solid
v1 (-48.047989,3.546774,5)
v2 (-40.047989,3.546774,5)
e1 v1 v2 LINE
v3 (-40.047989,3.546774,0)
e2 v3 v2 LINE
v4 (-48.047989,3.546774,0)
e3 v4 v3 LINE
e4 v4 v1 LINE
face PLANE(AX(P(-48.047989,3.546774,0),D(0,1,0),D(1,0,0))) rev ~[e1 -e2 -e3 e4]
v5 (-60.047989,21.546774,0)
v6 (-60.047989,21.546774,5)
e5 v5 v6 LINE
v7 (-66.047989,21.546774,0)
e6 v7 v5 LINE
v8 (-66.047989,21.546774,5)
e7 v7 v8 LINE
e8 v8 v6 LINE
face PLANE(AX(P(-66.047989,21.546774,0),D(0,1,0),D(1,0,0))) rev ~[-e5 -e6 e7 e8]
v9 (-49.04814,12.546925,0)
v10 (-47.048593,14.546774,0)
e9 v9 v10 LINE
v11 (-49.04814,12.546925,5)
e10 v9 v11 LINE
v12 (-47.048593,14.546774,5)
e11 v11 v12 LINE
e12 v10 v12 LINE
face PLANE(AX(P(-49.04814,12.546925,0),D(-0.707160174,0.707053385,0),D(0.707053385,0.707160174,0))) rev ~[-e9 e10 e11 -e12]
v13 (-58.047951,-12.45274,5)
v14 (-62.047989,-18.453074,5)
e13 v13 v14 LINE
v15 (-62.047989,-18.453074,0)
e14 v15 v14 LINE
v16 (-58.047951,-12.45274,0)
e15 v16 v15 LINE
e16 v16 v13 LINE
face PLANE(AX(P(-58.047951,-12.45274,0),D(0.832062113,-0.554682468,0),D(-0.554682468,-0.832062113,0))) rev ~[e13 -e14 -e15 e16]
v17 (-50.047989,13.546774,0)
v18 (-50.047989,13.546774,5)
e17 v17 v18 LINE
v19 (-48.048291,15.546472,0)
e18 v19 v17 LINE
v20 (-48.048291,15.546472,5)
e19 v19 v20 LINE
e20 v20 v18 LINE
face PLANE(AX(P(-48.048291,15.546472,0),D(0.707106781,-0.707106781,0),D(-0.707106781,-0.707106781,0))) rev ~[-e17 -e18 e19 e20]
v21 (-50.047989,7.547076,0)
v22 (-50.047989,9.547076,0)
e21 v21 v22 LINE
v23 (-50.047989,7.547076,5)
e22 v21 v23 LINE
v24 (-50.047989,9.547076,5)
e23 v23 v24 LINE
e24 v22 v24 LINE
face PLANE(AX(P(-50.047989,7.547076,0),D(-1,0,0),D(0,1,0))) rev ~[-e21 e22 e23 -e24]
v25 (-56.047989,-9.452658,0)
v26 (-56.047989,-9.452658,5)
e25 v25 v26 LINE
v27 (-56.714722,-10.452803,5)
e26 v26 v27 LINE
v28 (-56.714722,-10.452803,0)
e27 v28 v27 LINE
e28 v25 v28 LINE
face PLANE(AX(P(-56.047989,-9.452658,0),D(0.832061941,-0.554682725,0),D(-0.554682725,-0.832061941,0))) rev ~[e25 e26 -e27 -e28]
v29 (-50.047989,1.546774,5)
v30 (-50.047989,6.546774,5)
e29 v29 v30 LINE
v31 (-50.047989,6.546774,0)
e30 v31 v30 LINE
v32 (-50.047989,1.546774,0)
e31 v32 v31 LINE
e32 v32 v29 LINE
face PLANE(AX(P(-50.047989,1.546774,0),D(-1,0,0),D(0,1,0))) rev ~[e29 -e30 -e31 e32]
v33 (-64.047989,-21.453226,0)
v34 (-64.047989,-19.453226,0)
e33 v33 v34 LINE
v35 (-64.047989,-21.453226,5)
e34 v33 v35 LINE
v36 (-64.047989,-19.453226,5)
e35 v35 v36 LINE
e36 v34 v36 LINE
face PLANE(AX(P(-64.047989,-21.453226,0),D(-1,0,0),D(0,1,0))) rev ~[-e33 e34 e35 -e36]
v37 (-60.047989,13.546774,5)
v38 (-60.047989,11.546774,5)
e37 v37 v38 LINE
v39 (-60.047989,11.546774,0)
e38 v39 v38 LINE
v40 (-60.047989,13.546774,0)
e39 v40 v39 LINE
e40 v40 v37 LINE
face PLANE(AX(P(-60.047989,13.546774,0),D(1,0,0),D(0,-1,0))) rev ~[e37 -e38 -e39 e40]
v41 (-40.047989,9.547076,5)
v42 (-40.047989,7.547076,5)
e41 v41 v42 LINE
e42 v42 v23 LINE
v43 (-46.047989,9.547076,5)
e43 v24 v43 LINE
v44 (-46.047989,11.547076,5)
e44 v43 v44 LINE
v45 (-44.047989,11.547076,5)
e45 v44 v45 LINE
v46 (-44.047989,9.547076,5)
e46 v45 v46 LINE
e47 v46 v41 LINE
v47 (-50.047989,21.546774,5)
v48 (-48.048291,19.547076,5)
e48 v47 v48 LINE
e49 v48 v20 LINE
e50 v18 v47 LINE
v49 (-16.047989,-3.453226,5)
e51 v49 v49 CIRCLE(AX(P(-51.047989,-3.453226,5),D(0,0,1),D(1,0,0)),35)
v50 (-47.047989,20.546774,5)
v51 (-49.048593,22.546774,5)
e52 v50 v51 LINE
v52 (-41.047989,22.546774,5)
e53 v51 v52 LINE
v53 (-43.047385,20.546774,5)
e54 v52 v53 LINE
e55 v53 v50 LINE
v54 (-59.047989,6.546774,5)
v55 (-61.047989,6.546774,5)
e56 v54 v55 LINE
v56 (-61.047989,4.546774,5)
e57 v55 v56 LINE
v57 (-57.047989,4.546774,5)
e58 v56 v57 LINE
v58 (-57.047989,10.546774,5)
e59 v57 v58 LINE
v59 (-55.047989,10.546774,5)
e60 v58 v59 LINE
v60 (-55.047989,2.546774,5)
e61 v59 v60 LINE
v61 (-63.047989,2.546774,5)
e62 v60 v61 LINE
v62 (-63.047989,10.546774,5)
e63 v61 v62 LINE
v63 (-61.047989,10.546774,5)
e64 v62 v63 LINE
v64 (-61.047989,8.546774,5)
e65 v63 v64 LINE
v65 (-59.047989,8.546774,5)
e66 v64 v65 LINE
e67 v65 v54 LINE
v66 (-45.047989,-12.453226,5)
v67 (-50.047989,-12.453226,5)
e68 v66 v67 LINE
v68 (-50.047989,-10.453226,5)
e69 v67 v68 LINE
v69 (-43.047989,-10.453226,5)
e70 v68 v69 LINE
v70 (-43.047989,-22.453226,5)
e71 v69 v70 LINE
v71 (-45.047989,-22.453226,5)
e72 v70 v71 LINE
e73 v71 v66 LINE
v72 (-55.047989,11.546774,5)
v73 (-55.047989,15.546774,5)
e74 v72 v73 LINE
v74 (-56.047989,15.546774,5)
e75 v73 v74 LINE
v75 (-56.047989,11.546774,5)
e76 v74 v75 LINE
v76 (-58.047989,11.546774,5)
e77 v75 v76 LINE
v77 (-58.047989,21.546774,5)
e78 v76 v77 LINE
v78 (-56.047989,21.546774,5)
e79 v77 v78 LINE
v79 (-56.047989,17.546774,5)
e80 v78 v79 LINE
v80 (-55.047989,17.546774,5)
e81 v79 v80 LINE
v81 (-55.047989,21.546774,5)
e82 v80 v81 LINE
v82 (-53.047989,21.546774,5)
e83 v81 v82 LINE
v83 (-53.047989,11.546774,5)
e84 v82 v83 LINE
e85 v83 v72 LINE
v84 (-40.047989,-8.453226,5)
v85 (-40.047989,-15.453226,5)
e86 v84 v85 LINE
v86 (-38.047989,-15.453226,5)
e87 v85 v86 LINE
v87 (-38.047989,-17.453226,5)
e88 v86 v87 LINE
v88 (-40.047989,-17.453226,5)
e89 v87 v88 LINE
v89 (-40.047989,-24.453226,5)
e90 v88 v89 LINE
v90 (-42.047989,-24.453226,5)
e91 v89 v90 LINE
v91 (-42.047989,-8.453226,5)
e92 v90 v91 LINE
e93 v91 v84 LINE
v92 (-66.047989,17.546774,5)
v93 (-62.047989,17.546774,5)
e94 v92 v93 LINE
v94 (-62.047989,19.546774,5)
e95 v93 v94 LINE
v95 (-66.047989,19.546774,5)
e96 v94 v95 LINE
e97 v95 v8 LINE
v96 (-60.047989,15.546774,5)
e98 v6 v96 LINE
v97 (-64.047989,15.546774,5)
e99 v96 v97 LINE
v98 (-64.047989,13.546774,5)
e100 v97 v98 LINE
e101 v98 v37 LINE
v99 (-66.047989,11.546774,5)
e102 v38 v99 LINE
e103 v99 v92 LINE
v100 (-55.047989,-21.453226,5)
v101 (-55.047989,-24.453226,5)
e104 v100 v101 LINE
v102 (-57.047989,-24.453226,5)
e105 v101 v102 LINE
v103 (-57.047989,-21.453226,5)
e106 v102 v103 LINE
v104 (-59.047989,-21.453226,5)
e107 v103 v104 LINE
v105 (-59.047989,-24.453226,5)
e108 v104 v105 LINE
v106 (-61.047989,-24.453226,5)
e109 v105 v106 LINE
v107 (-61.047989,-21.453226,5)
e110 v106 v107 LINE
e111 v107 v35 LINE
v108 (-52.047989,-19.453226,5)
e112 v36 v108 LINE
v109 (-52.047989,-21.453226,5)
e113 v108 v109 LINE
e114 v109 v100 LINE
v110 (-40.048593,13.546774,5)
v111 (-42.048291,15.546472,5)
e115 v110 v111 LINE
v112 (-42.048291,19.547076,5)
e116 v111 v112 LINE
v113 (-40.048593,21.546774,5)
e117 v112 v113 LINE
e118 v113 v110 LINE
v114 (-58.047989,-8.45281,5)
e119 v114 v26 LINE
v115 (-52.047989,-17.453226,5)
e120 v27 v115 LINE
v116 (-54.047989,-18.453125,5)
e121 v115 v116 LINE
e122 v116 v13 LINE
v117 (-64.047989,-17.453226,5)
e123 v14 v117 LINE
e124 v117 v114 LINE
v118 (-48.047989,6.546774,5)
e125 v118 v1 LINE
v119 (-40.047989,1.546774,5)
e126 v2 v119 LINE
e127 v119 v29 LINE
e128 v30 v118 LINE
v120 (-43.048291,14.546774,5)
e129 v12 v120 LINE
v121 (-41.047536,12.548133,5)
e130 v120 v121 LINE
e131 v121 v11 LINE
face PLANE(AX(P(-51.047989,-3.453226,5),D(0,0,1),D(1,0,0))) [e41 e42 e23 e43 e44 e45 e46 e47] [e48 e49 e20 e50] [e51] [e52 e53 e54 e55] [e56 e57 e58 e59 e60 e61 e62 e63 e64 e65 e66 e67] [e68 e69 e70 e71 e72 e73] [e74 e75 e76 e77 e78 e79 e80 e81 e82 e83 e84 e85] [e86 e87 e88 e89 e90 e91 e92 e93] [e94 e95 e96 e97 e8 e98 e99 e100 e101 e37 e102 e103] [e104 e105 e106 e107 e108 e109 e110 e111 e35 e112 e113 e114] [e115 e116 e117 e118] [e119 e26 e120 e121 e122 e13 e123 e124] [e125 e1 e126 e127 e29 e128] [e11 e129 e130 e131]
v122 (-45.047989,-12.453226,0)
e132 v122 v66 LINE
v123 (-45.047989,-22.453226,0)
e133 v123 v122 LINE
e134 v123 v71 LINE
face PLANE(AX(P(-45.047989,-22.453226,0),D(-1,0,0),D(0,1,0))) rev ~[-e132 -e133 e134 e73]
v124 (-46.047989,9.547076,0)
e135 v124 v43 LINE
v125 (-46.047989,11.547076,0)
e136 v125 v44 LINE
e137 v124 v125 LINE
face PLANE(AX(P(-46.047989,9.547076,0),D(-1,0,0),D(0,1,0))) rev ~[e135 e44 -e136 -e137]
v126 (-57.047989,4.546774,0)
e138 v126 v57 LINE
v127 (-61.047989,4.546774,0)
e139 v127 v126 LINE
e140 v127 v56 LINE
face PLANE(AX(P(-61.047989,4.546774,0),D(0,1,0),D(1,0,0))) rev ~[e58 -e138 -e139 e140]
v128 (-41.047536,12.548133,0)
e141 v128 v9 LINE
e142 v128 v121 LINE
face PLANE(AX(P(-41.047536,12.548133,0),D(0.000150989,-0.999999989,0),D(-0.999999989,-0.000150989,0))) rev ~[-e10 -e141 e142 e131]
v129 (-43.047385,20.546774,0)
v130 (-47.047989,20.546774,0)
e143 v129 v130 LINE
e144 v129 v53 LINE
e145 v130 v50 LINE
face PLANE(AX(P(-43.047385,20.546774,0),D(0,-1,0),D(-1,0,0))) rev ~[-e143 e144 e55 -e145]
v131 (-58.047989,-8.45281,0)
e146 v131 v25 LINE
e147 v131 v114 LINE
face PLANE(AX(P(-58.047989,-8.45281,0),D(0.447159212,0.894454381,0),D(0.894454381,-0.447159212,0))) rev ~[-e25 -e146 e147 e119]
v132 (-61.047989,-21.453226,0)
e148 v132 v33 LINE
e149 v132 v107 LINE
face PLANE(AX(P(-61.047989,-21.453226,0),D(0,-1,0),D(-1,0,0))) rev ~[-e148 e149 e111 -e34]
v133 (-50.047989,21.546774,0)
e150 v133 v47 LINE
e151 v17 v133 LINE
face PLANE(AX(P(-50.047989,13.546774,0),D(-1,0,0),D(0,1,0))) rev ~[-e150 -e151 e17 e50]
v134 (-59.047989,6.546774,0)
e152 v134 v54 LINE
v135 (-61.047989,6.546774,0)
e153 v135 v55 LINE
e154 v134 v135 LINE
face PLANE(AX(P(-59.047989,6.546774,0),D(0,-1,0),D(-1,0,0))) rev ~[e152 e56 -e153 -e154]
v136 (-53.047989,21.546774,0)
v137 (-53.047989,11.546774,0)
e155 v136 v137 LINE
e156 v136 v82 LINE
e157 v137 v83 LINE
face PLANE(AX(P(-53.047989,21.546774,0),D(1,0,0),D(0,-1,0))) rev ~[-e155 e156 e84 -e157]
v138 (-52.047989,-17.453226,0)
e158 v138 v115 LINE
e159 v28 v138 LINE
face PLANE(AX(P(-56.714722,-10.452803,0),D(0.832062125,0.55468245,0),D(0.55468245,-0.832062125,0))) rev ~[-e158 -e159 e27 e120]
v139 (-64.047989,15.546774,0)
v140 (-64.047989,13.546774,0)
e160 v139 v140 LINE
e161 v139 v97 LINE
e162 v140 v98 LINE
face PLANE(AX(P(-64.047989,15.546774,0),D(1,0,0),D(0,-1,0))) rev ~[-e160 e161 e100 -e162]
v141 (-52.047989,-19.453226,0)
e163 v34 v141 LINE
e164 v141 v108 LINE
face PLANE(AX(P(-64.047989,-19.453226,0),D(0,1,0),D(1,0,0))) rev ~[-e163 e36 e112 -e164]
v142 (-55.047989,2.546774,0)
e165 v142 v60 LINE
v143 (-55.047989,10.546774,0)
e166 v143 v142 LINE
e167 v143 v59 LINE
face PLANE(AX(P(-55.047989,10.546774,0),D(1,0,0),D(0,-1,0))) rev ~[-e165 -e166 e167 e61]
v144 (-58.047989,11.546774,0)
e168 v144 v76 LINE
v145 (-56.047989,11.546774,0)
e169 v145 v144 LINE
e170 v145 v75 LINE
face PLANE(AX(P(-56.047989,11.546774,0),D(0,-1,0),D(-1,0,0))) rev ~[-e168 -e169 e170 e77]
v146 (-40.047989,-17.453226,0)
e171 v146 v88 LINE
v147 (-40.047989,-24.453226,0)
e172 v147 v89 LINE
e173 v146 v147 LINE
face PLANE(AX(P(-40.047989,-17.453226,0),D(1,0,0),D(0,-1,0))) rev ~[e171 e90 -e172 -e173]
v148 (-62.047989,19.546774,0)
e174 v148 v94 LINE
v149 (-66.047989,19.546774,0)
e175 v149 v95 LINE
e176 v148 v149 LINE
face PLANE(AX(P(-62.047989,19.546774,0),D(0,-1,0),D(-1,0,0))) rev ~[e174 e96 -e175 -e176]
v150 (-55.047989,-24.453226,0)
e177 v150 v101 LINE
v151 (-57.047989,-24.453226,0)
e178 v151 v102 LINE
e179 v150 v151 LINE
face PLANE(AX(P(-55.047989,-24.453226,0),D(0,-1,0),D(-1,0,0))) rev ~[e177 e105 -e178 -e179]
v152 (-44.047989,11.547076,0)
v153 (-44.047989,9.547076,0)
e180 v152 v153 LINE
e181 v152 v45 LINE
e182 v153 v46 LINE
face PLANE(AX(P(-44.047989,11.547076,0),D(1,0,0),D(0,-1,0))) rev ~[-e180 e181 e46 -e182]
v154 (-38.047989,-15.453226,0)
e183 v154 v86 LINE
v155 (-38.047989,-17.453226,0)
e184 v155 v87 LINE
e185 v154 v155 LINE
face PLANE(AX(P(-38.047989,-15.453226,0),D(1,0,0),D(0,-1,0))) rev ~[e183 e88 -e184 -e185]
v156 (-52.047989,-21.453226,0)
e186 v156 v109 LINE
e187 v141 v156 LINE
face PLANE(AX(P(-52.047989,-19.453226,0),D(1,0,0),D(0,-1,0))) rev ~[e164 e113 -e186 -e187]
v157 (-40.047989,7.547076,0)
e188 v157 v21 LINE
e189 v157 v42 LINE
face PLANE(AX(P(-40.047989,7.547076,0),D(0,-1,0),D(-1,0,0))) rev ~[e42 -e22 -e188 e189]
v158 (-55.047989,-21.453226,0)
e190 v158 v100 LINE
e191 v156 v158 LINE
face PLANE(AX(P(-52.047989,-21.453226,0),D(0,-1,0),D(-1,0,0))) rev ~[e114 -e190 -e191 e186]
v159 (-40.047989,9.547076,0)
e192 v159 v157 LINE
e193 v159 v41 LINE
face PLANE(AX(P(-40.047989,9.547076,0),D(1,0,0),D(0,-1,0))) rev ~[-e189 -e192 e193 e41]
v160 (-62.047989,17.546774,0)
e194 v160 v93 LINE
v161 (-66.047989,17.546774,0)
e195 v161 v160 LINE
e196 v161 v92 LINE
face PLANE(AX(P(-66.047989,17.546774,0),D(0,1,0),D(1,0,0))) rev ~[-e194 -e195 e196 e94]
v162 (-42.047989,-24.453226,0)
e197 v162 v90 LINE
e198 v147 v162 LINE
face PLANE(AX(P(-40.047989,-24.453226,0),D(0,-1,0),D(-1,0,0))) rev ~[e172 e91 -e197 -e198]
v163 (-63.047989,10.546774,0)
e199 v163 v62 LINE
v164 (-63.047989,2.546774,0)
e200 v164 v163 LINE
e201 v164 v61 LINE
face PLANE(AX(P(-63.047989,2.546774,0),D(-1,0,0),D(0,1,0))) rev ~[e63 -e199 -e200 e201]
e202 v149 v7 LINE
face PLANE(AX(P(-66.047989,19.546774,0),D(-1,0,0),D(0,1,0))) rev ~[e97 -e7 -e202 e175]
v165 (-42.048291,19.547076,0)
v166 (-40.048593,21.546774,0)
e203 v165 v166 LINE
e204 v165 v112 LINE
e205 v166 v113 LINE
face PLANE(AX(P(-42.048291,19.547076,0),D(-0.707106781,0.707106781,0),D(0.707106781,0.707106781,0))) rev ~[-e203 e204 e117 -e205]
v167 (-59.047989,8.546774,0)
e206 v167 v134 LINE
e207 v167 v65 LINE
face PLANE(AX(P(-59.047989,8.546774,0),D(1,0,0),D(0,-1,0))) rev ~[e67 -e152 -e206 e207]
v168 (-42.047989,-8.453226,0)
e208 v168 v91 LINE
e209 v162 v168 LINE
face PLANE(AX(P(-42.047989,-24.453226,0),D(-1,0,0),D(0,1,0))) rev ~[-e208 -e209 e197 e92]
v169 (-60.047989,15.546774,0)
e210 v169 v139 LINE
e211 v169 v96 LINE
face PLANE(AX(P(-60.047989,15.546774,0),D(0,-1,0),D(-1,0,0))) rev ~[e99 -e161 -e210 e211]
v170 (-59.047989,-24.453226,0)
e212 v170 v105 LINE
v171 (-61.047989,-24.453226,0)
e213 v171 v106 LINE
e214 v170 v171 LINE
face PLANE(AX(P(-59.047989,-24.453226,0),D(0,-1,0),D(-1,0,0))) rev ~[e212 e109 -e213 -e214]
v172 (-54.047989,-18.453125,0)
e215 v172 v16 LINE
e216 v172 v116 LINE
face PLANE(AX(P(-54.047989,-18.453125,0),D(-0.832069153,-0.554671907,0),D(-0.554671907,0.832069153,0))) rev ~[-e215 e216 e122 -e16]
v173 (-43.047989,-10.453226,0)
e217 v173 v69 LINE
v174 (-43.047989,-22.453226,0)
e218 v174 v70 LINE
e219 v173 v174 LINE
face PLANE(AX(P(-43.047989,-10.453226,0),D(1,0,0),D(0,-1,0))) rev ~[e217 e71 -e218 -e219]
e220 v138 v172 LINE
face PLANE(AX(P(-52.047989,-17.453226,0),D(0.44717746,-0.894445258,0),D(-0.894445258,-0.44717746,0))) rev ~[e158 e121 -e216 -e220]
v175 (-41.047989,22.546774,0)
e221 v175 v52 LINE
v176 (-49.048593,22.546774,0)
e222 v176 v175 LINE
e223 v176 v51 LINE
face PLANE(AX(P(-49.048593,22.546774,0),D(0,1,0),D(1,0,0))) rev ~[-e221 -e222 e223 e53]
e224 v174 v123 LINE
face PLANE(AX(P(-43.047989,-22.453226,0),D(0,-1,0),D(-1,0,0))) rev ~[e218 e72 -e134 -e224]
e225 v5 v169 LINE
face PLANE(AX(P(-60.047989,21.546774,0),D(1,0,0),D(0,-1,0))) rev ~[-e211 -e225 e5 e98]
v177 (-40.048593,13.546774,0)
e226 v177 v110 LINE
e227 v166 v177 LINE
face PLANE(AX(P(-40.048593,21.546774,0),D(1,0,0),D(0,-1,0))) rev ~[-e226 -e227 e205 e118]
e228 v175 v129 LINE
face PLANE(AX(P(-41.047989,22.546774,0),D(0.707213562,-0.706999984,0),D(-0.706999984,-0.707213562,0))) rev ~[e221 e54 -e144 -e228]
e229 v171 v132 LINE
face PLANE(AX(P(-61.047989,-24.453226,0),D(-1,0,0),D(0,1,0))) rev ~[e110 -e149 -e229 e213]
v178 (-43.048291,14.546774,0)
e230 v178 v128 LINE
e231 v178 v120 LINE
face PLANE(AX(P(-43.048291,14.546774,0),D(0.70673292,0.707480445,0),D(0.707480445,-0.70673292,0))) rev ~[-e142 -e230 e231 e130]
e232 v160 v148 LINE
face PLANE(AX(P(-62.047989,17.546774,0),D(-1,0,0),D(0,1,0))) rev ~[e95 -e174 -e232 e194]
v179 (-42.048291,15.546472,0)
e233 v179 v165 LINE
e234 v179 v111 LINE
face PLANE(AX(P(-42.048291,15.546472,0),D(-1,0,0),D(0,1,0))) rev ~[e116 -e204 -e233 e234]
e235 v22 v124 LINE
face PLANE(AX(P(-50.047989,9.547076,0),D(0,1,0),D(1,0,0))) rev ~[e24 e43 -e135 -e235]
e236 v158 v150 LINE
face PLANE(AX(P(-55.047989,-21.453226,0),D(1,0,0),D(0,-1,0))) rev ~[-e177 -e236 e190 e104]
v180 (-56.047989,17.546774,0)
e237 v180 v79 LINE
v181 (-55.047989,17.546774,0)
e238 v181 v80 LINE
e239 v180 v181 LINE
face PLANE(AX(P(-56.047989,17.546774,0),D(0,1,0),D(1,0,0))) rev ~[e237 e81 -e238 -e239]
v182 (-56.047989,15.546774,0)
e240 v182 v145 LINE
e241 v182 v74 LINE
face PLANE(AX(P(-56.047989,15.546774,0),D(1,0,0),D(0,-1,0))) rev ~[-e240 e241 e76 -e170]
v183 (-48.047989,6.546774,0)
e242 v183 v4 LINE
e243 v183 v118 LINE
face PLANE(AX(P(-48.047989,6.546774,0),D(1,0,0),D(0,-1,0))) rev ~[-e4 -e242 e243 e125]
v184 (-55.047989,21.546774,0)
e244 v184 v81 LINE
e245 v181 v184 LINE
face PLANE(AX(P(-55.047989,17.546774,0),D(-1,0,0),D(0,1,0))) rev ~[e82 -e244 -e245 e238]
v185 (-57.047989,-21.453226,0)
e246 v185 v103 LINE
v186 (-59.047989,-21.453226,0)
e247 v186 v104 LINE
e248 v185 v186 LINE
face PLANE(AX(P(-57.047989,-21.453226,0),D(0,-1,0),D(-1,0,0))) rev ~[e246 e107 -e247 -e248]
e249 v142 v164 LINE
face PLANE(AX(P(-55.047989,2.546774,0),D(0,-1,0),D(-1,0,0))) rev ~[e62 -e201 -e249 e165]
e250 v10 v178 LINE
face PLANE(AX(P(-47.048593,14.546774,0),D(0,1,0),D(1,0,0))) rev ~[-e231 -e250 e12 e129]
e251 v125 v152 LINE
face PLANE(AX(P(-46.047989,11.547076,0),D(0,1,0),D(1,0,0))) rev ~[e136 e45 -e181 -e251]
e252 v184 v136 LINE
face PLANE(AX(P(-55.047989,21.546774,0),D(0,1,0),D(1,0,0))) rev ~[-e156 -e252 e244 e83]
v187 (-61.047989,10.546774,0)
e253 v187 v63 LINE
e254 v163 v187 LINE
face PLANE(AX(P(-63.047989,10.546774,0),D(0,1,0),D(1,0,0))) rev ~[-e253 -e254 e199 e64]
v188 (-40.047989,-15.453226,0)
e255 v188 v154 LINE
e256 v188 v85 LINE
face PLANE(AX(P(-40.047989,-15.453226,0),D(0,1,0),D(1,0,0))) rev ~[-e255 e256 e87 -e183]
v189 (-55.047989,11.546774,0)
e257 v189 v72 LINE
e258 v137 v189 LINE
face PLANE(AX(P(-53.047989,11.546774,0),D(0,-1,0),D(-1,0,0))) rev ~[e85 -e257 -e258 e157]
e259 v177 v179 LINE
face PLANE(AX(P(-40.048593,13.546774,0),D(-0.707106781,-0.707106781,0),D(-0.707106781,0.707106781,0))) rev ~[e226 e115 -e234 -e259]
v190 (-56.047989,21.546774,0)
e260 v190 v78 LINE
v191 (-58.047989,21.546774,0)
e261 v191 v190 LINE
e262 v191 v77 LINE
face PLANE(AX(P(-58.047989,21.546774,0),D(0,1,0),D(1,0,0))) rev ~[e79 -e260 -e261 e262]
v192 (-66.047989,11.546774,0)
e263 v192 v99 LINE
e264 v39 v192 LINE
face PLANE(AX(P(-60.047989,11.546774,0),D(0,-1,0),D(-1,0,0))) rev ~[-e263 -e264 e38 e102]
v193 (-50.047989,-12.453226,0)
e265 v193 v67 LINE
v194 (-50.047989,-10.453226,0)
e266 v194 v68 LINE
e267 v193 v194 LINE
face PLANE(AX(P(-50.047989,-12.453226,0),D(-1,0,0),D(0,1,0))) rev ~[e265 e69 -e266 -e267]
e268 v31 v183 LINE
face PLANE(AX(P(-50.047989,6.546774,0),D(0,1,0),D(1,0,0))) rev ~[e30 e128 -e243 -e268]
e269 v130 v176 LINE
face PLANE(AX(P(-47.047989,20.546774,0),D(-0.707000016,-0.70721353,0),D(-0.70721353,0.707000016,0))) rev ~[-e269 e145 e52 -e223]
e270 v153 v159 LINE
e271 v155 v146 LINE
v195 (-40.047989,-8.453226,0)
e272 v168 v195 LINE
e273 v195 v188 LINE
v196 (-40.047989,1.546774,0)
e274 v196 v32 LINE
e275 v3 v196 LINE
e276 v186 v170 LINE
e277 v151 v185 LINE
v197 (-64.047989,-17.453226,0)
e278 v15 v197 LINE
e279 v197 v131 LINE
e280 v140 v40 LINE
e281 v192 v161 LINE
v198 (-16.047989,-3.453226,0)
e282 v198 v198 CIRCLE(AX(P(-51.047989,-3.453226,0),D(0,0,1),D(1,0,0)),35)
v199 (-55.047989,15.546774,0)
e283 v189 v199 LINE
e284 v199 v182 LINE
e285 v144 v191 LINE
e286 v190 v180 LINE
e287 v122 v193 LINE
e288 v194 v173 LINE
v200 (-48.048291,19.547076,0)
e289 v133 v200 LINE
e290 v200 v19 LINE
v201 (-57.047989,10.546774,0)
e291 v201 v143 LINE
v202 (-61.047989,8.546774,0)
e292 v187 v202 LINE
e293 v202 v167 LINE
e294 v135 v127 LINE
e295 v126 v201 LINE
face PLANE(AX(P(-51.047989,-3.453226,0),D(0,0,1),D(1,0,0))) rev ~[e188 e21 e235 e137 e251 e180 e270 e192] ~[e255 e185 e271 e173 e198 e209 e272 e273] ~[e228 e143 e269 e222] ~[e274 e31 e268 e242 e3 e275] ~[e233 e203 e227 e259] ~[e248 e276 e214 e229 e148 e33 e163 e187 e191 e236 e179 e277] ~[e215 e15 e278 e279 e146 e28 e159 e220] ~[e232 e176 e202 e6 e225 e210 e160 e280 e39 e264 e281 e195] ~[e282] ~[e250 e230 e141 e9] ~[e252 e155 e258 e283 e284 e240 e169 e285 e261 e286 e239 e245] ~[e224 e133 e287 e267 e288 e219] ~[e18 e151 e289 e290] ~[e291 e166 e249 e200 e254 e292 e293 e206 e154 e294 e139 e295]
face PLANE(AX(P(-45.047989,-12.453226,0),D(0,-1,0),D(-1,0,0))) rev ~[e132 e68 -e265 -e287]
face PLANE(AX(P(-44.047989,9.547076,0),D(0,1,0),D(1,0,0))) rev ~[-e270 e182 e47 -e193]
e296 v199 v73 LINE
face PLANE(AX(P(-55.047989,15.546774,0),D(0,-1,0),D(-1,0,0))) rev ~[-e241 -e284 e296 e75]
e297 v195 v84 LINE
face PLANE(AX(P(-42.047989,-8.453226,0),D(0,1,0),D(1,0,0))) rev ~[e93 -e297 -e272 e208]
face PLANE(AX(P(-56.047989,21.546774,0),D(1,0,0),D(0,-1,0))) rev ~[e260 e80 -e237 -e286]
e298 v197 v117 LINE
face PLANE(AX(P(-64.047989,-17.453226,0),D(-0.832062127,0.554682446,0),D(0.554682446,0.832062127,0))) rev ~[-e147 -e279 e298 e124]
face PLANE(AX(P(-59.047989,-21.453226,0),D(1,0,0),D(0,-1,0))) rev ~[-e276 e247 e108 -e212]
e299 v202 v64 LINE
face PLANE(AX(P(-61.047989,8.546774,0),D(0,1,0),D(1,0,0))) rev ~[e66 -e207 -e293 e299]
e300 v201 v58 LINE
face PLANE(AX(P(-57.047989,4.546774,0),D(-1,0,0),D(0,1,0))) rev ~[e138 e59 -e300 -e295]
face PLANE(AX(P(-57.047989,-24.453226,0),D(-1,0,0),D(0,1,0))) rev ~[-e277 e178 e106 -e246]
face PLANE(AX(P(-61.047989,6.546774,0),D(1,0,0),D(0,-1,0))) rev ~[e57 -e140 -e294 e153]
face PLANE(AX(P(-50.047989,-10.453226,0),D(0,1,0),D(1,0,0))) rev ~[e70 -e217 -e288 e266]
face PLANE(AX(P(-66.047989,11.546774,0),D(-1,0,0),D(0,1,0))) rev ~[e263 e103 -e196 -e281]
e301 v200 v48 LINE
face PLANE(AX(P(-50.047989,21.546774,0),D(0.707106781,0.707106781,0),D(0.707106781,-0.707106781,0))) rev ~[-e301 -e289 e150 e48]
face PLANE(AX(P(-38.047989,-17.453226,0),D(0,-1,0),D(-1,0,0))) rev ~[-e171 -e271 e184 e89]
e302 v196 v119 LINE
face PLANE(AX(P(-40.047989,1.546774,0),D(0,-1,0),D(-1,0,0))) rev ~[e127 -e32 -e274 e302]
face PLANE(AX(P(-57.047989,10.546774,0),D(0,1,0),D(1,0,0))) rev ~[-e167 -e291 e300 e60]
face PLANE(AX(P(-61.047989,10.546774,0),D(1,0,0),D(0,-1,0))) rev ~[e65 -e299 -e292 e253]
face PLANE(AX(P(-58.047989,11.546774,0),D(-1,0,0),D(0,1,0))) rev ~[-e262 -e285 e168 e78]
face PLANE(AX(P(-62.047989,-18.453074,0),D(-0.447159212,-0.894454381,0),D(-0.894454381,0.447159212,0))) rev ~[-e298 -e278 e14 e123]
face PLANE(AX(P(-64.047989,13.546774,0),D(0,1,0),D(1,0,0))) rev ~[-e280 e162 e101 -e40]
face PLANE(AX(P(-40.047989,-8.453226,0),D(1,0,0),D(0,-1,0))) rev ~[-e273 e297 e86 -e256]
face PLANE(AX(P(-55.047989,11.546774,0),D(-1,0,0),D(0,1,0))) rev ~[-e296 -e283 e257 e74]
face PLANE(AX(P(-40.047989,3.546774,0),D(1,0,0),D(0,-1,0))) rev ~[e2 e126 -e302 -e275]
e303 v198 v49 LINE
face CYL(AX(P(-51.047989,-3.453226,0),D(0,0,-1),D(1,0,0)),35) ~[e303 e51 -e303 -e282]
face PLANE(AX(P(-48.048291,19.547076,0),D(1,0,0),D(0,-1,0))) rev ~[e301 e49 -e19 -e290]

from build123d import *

# Parameters (mm, degrees)
F0_R     = 35
F1_DEPTH = 5


with BuildPart() as f1:
    # F0 (on Top) → F1 (new body)
    with BuildSketch(Plane.XY):
        with Locations((-51.047989, -3.453226)):
            Circle(F0_R)
        Polygon((-59.047989, -24.453226), (-61.047989, -24.453226), (-61.047989, -21.453226), (-64.047989, -21.453226), (-64.047989, -19.453226), (-52.047989, -19.453226), (-52.047989, -21.453226), (-55.047989, -21.453226), (-55.047989, -24.453226), (-57.047989, -24.453226), (-57.047989, -21.453226), (-59.047989, -21.453226), align=None, mode=Mode.SUBTRACT)
        Polygon((-64.047989, -17.453226), (-58.047989, -8.45281), (-56.047989, -9.452658), (-56.714722, -10.452803), (-52.047989, -17.453226), (-54.047989, -18.453125), (-58.047951, -12.45274), (-62.047989, -18.453074), align=None, mode=Mode.SUBTRACT)
        Polygon((-43.047989, -10.453226), (-43.047989, -22.453226), (-45.047989, -22.453226), (-45.047989, -12.453226), (-50.047989, -12.453226), (-50.047989, -10.453226), align=None, mode=Mode.SUBTRACT)
        Polygon((-42.047989, -8.453226), (-40.047989, -8.453226), (-40.047989, -15.453226), (-38.047989, -15.453226), (-38.047989, -17.453226), (-40.047989, -17.453226), (-40.047989, -24.453226), (-42.047989, -24.453226), (-42.047989, -22.453226), align=None, mode=Mode.SUBTRACT)
        Polygon((-57.047989, 10.546774), (-55.047989, 10.546774), (-55.047989, 2.546774), (-63.047989, 2.546774), (-63.047989, 10.546774), (-61.047989, 10.546774), (-61.047989, 8.546774), (-59.047989, 8.546774), (-59.047989, 6.546774), (-61.047989, 6.546774), (-61.047989, 4.546774), (-57.047989, 4.546774), align=None, mode=Mode.SUBTRACT)
        Polygon((-66.047989, 19.546774), (-66.047989, 21.546774), (-60.047989, 21.546774), (-60.047989, 15.546774), (-64.047989, 15.546774), (-64.047989, 13.546774), (-60.047989, 13.546774), (-60.047989, 11.546774), (-66.047989, 11.546774), (-66.047989, 17.546774), (-62.047989, 17.546774), (-62.047989, 19.546774), align=None, mode=Mode.SUBTRACT)
        Polygon((-58.047989, 11.546774), (-58.047989, 21.546774), (-56.047989, 21.546774), (-56.047989, 17.546774), (-55.047989, 17.546774), (-55.047989, 21.546774), (-53.047989, 21.546774), (-53.047989, 11.546774), (-55.047989, 11.546774), (-55.047989, 15.546774), (-56.047989, 15.546774), (-56.047989, 11.546774), align=None, mode=Mode.SUBTRACT)
        Polygon((-50.047989, 1.546774), (-50.047989, 6.546774), (-48.047989, 6.546774), (-48.047989, 3.546774), (-40.047989, 3.546774), (-40.047989, 1.546774), align=None, mode=Mode.SUBTRACT)
        Polygon((-44.047989, 9.547076), (-40.047989, 9.547076), (-40.047989, 7.547076), (-50.047989, 7.547076), (-50.047989, 9.547076), (-46.047989, 9.547076), (-46.047989, 11.547076), (-44.047989, 11.547076), align=None, mode=Mode.SUBTRACT)
        Polygon((-43.048291, 14.546774), (-41.047536, 12.548133), (-49.04814, 12.546925), (-47.048593, 14.546774), align=None, mode=Mode.SUBTRACT)
        Polygon((-48.048291, 19.547076), (-48.048291, 15.546472), (-50.047989, 13.546774), (-50.047989, 21.546774), align=None, mode=Mode.SUBTRACT)
        Polygon((-47.047989, 20.546774), (-49.048593, 22.546774), (-41.047989, 22.546774), (-43.047385, 20.546774), align=None, mode=Mode.SUBTRACT)
        Polygon((-40.048593, 13.546774), (-42.048291, 15.546472), (-42.048291, 19.547076), (-40.048593, 21.546774), align=None, mode=Mode.SUBTRACT)
    extrude(amount=F1_DEPTH)


solid = f1.part
